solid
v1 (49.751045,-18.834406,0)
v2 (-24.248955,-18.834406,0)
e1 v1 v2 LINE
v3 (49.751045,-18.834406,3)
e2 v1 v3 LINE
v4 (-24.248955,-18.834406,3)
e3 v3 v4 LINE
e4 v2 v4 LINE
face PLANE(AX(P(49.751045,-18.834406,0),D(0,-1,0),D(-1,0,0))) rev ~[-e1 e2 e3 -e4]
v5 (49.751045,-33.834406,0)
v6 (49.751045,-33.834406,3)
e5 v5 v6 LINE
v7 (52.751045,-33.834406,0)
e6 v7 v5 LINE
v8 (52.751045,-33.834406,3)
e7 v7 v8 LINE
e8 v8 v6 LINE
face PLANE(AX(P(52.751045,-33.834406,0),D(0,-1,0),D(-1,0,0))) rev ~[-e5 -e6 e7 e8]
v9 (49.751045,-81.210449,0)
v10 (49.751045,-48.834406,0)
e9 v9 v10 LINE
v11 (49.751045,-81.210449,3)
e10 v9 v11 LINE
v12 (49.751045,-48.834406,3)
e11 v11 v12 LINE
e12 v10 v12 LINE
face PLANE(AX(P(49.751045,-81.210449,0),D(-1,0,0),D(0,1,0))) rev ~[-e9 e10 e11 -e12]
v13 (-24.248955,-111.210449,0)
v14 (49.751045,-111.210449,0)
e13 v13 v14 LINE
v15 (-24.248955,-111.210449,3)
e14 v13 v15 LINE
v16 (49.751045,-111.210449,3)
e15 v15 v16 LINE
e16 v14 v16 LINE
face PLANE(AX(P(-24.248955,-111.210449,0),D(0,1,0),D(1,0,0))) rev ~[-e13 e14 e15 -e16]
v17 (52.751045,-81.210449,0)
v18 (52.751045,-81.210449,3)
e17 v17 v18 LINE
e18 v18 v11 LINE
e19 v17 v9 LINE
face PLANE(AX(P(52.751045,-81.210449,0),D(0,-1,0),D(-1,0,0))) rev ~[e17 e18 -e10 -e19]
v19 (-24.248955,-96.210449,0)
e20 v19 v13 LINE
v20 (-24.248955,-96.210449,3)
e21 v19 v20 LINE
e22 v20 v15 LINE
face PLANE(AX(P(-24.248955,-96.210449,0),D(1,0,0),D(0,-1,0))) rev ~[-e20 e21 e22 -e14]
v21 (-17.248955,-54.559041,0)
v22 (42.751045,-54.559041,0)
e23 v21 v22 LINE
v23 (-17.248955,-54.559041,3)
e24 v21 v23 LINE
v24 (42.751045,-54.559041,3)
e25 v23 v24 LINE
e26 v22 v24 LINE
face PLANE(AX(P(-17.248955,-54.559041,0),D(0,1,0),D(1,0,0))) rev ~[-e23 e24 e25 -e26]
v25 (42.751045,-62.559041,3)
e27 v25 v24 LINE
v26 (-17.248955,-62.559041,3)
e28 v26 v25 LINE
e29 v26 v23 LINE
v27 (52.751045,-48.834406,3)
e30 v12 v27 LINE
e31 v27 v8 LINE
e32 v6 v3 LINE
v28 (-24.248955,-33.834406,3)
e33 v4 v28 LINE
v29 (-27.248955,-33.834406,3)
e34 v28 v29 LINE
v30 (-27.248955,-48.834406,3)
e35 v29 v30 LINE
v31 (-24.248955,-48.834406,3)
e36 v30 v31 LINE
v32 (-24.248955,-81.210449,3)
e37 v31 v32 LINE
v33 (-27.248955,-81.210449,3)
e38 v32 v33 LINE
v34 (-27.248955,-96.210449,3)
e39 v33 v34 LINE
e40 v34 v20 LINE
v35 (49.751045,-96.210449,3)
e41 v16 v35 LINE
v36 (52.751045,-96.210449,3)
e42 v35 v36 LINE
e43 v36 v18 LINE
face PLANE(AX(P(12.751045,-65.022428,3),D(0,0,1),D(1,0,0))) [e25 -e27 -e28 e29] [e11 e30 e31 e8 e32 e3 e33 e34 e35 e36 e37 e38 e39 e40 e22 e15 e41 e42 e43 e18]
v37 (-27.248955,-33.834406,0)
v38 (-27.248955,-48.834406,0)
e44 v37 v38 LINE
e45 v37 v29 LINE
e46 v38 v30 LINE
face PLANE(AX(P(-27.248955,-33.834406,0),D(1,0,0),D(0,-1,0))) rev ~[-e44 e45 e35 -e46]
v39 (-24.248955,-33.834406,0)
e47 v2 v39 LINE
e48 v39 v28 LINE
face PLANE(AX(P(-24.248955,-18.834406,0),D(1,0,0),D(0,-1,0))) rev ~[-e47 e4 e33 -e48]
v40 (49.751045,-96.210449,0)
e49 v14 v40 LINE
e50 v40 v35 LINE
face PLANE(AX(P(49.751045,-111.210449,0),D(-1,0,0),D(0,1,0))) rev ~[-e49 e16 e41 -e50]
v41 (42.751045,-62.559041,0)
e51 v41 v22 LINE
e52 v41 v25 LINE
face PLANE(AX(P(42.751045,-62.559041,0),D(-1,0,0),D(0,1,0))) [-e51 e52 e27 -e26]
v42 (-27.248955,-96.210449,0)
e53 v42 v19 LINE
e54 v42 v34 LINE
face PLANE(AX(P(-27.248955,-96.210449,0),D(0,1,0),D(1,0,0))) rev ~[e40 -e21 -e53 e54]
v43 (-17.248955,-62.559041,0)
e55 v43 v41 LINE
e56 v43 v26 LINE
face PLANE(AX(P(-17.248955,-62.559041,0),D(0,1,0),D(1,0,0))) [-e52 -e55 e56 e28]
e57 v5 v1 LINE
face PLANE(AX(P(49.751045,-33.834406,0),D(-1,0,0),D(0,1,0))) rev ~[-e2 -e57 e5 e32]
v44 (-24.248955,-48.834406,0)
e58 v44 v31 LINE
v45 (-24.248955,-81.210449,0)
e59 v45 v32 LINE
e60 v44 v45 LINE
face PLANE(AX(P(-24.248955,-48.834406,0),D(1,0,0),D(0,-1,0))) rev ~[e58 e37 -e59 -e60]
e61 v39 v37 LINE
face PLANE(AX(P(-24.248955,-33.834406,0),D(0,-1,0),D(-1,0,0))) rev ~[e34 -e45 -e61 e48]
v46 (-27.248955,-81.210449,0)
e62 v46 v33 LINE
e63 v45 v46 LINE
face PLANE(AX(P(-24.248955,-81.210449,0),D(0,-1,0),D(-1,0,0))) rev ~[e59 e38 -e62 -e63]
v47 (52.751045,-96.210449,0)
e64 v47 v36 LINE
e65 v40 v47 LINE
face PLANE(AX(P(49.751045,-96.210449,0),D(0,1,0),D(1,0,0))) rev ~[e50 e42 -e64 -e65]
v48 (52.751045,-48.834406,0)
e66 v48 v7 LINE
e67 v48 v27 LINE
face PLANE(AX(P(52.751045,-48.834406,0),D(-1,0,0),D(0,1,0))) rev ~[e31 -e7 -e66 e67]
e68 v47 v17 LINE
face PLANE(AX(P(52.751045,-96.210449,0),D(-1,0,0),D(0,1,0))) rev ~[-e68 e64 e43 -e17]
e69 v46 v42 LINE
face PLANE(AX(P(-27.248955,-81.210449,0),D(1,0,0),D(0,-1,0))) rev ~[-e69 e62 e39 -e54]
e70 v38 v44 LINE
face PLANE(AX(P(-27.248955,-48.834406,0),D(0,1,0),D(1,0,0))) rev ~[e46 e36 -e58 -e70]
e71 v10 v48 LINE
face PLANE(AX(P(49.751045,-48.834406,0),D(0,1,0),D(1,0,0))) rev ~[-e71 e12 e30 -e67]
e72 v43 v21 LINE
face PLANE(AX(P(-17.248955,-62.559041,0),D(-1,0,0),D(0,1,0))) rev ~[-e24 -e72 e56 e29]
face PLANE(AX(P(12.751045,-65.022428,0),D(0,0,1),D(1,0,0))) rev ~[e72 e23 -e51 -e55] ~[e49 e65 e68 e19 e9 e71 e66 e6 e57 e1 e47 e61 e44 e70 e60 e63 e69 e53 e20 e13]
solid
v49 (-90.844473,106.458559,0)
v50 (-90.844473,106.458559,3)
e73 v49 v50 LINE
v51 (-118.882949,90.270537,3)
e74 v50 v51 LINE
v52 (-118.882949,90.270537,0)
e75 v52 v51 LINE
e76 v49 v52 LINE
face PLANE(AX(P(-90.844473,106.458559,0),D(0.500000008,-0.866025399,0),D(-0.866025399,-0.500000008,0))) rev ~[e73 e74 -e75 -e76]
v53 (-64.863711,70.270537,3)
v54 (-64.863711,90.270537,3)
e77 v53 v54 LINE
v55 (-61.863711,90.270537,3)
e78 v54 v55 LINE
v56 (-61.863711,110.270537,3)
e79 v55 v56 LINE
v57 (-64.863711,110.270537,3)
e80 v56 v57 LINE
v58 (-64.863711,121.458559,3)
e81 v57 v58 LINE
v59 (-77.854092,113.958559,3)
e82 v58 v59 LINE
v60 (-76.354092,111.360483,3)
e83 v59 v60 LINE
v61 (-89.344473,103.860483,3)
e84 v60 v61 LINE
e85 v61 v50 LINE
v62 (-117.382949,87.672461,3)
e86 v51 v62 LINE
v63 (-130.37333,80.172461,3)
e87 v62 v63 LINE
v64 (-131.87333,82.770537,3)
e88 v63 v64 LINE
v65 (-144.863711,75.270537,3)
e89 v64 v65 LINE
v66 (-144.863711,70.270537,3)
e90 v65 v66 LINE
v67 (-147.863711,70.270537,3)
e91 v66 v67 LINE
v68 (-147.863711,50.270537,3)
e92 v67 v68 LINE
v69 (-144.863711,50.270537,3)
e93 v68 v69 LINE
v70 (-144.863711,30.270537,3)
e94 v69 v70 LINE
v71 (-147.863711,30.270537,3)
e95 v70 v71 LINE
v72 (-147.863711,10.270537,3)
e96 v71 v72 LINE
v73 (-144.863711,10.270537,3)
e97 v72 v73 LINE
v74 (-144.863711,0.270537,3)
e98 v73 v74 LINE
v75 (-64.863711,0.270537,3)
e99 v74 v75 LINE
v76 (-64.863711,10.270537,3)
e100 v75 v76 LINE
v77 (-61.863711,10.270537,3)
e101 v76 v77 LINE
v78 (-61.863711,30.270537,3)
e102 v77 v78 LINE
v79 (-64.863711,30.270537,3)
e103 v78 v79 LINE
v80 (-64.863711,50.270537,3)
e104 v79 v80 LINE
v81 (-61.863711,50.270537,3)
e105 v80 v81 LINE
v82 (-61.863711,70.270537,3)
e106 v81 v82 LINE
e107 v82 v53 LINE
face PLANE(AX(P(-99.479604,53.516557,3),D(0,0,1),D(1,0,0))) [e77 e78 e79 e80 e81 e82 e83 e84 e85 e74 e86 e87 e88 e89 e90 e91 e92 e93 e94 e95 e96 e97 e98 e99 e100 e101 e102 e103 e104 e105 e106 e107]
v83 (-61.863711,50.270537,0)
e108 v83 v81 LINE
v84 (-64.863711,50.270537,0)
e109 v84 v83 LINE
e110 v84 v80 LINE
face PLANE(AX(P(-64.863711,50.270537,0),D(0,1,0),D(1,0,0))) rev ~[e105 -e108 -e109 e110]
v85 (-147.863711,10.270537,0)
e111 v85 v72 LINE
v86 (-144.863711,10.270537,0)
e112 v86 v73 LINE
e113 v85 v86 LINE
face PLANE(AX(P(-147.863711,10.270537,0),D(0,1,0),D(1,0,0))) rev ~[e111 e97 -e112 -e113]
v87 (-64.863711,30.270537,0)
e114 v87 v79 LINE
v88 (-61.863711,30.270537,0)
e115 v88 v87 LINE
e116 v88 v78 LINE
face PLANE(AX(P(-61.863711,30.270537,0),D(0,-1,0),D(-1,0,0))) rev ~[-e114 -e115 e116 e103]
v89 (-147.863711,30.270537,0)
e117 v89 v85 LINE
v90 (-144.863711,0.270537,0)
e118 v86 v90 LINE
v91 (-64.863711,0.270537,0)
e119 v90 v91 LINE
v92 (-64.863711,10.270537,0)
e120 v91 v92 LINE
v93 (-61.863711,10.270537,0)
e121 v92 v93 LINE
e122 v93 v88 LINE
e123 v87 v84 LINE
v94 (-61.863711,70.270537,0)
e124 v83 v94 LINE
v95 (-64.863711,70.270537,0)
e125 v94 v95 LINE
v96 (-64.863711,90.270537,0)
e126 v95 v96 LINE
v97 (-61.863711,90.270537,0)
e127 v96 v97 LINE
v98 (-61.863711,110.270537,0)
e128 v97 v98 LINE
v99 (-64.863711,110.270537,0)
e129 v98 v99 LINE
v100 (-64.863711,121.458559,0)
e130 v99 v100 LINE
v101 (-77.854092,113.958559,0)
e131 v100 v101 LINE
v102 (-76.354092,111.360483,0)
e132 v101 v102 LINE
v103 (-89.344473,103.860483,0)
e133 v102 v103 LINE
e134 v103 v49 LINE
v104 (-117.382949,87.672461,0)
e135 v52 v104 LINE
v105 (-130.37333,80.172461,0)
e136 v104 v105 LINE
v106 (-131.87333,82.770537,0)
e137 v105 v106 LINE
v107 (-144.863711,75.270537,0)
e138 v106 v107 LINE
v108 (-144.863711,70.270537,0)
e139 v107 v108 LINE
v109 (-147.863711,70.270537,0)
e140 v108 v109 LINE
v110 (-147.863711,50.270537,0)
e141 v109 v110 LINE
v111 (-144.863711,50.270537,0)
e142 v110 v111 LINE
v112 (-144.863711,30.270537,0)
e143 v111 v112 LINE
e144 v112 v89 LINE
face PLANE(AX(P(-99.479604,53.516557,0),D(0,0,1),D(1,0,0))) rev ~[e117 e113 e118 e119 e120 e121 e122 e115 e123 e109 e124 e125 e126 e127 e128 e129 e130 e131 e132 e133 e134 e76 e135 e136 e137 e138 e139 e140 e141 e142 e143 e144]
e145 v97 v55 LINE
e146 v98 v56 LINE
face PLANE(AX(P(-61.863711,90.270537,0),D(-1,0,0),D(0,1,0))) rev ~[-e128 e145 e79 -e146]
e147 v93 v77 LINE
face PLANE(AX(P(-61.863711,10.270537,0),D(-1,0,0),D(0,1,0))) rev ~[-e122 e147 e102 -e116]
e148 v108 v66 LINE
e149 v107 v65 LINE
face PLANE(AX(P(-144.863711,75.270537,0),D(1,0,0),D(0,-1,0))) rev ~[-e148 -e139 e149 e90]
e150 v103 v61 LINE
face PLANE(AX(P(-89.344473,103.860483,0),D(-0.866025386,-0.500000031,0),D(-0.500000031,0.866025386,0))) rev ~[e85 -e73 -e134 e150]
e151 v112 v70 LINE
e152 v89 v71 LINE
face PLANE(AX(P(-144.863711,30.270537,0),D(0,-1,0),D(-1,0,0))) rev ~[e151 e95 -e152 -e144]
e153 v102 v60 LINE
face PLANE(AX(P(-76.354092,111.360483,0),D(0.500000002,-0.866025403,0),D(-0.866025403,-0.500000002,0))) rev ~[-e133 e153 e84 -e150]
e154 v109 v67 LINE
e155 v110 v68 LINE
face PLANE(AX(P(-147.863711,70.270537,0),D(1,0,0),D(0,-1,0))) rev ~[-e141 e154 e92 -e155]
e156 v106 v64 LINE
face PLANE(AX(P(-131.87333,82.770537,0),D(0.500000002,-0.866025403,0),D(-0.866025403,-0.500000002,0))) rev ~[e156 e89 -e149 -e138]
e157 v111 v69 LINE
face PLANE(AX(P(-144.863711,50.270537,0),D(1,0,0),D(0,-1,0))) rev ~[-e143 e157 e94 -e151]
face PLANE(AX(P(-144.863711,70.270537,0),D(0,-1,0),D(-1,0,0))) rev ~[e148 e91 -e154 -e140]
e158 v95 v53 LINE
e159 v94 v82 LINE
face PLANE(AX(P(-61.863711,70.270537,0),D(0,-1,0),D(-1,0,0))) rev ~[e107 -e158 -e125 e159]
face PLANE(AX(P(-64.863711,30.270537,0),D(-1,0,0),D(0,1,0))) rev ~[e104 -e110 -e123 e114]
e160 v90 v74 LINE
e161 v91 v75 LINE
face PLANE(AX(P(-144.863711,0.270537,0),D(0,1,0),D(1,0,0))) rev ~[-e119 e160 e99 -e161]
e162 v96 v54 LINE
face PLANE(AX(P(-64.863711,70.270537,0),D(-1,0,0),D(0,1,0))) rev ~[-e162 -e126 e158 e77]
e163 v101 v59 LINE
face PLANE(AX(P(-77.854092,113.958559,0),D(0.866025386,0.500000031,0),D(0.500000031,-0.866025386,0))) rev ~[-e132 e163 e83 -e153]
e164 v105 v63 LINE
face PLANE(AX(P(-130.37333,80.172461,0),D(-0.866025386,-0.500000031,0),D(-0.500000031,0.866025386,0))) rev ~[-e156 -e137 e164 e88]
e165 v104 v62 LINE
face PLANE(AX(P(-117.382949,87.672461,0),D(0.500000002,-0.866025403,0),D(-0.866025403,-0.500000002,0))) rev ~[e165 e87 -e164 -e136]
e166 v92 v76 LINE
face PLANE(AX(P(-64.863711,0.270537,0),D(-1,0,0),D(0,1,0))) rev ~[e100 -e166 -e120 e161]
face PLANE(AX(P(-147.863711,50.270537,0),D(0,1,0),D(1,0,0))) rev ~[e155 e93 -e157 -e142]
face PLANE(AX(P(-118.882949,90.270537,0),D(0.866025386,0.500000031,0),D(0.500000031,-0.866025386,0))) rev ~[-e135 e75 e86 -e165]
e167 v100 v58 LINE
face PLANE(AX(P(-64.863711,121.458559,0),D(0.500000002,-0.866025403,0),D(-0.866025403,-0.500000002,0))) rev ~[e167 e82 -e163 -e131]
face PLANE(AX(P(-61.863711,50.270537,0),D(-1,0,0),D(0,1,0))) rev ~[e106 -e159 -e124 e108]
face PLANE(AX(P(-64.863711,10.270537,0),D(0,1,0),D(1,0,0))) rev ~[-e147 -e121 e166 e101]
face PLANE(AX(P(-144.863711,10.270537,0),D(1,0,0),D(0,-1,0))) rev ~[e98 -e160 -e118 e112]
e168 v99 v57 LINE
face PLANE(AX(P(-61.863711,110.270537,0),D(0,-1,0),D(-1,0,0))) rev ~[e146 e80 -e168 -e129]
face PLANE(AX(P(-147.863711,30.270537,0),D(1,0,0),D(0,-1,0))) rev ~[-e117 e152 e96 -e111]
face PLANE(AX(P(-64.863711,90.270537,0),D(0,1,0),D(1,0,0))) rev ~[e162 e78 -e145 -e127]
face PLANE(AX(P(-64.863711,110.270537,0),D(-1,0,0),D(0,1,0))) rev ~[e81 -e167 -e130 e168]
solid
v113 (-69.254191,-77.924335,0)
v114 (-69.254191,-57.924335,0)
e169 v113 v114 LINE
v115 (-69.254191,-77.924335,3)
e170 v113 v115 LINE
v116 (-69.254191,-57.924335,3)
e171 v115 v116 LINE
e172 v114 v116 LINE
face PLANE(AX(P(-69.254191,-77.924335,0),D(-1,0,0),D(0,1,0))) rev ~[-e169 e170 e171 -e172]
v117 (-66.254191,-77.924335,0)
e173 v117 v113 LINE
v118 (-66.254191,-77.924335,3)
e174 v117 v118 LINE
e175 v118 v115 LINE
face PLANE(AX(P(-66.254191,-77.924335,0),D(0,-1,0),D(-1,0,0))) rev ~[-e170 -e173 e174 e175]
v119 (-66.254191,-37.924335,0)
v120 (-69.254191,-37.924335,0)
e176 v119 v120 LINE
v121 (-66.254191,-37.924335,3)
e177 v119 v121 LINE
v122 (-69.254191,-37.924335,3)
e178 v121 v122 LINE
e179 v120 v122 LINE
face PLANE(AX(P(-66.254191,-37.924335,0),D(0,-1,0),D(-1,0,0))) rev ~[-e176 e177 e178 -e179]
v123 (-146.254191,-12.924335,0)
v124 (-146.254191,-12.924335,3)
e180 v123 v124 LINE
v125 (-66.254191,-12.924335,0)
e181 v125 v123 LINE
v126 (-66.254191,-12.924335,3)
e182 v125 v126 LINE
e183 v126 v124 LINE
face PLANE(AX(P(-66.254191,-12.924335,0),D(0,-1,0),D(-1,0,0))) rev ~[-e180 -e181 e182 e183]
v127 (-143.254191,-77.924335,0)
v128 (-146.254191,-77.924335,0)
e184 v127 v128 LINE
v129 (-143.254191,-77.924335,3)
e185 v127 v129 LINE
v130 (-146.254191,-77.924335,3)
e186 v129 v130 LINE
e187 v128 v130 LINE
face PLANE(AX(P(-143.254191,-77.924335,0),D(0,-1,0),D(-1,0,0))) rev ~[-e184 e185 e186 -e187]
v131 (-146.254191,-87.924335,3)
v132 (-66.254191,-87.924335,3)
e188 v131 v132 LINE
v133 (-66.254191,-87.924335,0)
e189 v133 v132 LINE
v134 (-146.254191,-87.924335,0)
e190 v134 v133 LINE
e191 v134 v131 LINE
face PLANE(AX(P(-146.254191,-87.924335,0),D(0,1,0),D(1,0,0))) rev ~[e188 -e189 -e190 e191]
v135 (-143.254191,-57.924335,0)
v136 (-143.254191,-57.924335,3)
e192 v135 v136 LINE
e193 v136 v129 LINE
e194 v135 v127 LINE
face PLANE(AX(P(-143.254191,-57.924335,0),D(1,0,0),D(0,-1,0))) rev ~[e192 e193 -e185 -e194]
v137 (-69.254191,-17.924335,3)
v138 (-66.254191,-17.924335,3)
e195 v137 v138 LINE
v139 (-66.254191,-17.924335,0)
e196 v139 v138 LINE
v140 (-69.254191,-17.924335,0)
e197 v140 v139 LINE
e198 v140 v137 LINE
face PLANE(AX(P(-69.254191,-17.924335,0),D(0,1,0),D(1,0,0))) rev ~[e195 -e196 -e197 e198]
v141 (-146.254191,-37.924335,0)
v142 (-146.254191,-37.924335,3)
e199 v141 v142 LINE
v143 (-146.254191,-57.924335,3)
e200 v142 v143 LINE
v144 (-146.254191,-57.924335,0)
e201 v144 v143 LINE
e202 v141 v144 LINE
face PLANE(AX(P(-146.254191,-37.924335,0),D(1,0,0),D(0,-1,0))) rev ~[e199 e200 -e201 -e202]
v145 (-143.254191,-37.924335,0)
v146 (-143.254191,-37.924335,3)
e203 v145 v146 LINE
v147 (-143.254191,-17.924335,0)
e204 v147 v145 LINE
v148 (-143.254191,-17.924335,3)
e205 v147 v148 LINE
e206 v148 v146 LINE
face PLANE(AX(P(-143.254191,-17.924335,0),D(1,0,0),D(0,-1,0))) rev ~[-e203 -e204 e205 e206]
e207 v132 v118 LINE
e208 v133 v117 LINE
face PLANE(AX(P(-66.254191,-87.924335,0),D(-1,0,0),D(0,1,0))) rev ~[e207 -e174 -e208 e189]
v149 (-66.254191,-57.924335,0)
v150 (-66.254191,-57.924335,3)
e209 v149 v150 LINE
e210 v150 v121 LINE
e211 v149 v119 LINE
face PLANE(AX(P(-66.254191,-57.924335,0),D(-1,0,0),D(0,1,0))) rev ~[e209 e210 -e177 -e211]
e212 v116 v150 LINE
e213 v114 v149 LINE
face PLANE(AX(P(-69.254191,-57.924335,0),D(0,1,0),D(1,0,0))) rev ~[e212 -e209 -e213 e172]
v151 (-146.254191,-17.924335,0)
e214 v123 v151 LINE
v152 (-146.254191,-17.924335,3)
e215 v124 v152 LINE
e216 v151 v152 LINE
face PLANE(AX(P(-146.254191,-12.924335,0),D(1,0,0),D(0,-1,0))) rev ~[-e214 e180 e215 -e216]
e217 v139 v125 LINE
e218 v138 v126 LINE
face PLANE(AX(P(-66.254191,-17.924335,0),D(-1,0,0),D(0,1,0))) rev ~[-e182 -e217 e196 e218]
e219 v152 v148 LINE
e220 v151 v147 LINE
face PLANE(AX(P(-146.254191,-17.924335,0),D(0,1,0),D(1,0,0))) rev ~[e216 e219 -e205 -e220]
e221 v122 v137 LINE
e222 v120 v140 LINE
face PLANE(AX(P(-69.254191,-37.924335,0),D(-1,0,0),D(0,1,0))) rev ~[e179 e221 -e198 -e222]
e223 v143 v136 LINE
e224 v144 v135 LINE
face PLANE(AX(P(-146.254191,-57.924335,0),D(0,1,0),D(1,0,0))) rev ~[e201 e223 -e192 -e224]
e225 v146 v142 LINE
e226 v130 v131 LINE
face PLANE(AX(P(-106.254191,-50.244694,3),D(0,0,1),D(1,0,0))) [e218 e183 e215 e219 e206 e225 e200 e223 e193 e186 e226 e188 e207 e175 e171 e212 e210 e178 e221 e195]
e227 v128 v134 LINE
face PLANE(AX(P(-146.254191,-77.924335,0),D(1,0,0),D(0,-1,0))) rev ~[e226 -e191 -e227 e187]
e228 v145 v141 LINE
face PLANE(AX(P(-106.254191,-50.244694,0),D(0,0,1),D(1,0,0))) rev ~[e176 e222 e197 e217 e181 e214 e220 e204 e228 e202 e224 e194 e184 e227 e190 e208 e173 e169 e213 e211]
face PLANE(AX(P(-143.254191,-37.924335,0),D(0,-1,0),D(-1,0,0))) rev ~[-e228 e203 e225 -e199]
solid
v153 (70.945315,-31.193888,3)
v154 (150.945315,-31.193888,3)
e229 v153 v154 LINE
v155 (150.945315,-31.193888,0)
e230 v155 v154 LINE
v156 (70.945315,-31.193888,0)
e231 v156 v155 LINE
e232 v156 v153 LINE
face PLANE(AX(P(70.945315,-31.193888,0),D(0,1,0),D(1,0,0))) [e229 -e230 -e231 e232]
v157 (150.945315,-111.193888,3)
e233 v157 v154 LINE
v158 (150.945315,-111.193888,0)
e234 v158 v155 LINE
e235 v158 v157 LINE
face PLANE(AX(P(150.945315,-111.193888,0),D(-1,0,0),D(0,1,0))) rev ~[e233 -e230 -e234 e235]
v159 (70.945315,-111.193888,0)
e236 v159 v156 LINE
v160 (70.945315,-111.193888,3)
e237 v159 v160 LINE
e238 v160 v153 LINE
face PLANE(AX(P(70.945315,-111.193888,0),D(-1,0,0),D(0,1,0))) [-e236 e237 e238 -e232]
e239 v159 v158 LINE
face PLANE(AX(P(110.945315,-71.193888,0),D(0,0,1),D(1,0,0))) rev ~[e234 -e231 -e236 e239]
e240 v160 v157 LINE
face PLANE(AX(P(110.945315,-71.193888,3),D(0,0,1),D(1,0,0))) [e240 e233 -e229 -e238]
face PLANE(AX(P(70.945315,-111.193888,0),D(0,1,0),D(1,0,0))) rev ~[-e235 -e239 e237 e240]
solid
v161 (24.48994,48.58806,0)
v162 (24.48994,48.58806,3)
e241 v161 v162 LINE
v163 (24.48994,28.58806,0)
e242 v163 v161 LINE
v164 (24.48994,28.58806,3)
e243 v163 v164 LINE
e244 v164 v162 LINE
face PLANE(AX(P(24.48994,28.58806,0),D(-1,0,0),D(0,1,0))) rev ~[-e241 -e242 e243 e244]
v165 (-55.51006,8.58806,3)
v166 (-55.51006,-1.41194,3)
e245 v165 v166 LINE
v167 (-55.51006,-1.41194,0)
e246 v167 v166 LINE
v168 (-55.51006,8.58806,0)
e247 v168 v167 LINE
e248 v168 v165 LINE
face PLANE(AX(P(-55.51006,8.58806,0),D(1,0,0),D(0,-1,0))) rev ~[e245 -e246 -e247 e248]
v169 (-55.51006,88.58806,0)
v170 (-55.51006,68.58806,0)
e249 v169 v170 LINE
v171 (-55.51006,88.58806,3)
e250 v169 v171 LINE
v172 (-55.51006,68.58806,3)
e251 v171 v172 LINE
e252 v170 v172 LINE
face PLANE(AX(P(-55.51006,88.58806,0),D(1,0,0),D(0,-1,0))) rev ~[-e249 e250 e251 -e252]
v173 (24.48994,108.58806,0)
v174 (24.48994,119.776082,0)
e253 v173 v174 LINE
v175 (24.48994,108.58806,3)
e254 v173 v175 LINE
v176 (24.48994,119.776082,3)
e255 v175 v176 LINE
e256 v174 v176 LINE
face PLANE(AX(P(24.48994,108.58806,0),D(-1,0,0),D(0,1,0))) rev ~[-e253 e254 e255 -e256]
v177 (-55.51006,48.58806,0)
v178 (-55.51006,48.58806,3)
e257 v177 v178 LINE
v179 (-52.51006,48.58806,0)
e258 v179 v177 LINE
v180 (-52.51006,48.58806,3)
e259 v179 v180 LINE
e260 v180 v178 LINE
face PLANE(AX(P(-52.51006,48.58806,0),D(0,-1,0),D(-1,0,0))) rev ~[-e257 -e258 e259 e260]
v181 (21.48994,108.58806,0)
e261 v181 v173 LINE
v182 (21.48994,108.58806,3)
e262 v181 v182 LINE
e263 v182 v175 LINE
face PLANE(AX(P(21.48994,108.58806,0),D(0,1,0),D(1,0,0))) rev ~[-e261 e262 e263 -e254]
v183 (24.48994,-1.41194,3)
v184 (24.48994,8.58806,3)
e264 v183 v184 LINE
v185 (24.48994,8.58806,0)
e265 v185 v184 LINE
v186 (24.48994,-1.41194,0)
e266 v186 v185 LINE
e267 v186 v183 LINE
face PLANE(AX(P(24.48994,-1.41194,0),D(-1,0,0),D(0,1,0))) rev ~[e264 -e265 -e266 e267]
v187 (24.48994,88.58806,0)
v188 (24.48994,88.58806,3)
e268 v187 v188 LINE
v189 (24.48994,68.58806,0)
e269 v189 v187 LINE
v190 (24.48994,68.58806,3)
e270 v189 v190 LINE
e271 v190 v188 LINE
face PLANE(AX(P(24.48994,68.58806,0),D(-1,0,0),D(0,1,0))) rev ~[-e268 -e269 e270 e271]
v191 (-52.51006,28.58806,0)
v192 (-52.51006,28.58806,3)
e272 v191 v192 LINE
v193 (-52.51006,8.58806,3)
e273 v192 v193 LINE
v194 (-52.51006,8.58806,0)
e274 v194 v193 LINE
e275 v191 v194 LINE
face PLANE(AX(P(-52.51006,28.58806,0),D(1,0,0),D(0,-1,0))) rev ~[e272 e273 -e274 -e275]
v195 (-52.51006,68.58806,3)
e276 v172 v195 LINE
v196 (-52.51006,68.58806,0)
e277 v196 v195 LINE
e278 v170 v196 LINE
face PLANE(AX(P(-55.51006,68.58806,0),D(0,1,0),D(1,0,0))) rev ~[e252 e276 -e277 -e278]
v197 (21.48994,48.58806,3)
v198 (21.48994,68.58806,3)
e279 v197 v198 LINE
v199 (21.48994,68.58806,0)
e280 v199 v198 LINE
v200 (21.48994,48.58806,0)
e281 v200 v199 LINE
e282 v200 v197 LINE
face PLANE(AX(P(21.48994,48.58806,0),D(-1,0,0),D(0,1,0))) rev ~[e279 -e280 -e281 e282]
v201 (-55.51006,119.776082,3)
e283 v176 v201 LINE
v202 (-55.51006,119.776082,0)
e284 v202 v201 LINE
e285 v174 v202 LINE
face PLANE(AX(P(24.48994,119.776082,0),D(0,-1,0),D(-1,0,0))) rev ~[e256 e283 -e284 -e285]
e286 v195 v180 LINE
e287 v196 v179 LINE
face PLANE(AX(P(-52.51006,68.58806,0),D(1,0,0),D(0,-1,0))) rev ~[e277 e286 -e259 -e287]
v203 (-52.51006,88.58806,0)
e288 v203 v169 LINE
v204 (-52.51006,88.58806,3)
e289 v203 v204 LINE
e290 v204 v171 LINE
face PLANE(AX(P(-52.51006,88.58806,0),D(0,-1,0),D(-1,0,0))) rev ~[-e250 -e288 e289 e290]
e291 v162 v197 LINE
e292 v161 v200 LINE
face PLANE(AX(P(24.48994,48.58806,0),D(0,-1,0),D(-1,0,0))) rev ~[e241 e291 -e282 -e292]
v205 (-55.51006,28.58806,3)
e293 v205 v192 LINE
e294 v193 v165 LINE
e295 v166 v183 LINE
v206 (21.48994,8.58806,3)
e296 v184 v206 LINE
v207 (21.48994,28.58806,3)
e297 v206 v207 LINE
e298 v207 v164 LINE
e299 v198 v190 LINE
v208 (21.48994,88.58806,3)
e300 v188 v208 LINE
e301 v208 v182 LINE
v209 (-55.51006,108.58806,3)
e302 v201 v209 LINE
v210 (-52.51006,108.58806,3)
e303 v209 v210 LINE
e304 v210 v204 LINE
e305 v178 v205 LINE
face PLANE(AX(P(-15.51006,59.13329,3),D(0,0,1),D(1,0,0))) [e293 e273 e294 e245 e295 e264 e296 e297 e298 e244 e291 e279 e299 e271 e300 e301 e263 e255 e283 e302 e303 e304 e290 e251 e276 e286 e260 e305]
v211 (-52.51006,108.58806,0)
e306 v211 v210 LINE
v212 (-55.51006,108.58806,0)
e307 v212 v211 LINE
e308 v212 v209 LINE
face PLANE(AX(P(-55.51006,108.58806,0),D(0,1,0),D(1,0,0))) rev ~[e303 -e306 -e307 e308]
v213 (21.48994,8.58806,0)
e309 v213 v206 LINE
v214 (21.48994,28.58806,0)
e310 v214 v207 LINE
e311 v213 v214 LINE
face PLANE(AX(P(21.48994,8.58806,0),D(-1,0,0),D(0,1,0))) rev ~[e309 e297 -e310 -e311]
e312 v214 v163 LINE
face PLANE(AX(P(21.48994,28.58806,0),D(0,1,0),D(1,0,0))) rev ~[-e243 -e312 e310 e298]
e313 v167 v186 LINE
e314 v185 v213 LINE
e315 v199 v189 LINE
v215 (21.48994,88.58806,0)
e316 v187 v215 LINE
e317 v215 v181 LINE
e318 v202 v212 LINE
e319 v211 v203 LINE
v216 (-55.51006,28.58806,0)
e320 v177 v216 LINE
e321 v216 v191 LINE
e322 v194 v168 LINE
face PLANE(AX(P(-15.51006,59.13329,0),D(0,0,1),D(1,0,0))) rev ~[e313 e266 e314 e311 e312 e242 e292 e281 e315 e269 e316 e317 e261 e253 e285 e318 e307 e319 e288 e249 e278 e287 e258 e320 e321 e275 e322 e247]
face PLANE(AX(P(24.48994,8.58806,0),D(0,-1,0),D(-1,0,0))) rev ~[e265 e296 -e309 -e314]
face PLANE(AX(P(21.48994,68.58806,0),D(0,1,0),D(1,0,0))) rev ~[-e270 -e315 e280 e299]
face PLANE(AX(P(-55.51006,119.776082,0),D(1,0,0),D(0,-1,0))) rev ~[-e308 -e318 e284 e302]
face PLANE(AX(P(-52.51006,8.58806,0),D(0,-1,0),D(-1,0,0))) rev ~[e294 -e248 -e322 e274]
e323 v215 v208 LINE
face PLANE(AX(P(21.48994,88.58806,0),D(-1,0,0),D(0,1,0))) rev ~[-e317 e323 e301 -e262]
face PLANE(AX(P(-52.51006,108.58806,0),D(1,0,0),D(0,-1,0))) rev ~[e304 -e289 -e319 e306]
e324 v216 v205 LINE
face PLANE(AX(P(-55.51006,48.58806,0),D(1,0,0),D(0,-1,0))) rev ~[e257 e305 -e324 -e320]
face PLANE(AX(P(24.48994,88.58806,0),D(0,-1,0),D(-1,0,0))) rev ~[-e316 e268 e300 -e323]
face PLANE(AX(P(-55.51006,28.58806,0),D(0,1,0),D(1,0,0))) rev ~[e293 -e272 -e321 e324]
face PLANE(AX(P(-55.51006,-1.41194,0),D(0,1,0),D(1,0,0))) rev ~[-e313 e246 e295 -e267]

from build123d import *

# Parameters (mm, degrees)
F0_W     = 60
F0_H     = 8
F0_W_2   = 80
F0_H_2   = 80
F1_DEPTH = 3


with BuildPart() as f1:
    # F0 (on Top) → F1 (new body)
    with BuildSketch(Plane.XY):
        Polygon((-131.87333, 82.770537), (-144.863711, 75.270537), (-144.863711, 70.270537), (-147.863711, 70.270537), (-147.863711, 50.270537), (-144.863711, 50.270537), (-144.863711, 30.270537), (-147.863711, 30.270537), (-147.863711, 10.270537), (-144.863711, 10.270537), (-144.863711, 0.270537), (-64.863711, 0.270537), (-64.863711, 10.270537), (-61.863711, 10.270537), (-61.863711, 30.270537), (-64.863711, 30.270537), (-64.863711, 50.270537), (-61.863711, 50.270537), (-61.863711, 70.270537), (-64.863711, 70.270537), (-64.863711, 90.270537), (-61.863711, 90.270537), (-61.863711, 110.270537), (-64.863711, 110.270537), (-64.863711, 121.458559), (-77.854092, 113.958559), (-76.354092, 111.360483), (-89.344473, 103.860483), (-90.844473, 106.458559), (-118.882949, 90.270537), (-117.382949, 87.672461), (-130.37333, 80.172461), align=None)
        Polygon((24.48994, 119.776082), (-55.51006, 119.776082), (-55.51006, 108.58806), (-52.51006, 108.58806), (-52.51006, 88.58806), (-55.51006, 88.58806), (-55.51006, 68.58806), (-52.51006, 68.58806), (-52.51006, 48.58806), (-55.51006, 48.58806), (-55.51006, 28.58806), (-52.51006, 28.58806), (-52.51006, 8.58806), (-55.51006, 8.58806), (-55.51006, -1.41194), (24.48994, -1.41194), (24.48994, 8.58806), (21.48994, 8.58806), (21.48994, 28.58806), (24.48994, 28.58806), (24.48994, 48.58806), (21.48994, 48.58806), (21.48994, 68.58806), (24.48994, 68.58806), (24.48994, 88.58806), (21.48994, 88.58806), (21.48994, 108.58806), (24.48994, 108.58806), align=None)
        Polygon((-66.254191, -12.924335), (-146.254191, -12.924335), (-146.254191, -17.924335), (-143.254191, -17.924335), (-143.254191, -37.924335), (-146.254191, -37.924335), (-146.254191, -57.924335), (-143.254191, -57.924335), (-143.254191, -77.924335), (-146.254191, -77.924335), (-146.254191, -87.924335), (-66.254191, -87.924335), (-66.254191, -77.924335), (-69.254191, -77.924335), (-69.254191, -57.924335), (-66.254191, -57.924335), (-66.254191, -37.924335), (-69.254191, -37.924335), (-69.254191, -17.924335), (-66.254191, -17.924335), align=None)
        Polygon((49.751045, -18.834406), (-24.248955, -18.834406), (-24.248955, -33.834406), (-27.248955, -33.834406), (-27.248955, -48.834406), (-24.248955, -48.834406), (-24.248955, -81.210449), (-27.248955, -81.210449), (-27.248955, -96.210449), (-24.248955, -96.210449), (-24.248955, -111.210449), (49.751045, -111.210449), (49.751045, -96.210449), (52.751045, -96.210449), (52.751045, -81.210449), (49.751045, -81.210449), (49.751045, -48.834406), (52.751045, -48.834406), (52.751045, -33.834406), (49.751045, -33.834406), align=None)
        with Locations((12.751045, -58.559041)):
            Rectangle(F0_W, F0_H, mode=Mode.SUBTRACT)
        with Locations((110.945315, -71.193888)):
            Rectangle(F0_W_2, F0_H_2)
    extrude(amount=F1_DEPTH)


solid = f1.part
